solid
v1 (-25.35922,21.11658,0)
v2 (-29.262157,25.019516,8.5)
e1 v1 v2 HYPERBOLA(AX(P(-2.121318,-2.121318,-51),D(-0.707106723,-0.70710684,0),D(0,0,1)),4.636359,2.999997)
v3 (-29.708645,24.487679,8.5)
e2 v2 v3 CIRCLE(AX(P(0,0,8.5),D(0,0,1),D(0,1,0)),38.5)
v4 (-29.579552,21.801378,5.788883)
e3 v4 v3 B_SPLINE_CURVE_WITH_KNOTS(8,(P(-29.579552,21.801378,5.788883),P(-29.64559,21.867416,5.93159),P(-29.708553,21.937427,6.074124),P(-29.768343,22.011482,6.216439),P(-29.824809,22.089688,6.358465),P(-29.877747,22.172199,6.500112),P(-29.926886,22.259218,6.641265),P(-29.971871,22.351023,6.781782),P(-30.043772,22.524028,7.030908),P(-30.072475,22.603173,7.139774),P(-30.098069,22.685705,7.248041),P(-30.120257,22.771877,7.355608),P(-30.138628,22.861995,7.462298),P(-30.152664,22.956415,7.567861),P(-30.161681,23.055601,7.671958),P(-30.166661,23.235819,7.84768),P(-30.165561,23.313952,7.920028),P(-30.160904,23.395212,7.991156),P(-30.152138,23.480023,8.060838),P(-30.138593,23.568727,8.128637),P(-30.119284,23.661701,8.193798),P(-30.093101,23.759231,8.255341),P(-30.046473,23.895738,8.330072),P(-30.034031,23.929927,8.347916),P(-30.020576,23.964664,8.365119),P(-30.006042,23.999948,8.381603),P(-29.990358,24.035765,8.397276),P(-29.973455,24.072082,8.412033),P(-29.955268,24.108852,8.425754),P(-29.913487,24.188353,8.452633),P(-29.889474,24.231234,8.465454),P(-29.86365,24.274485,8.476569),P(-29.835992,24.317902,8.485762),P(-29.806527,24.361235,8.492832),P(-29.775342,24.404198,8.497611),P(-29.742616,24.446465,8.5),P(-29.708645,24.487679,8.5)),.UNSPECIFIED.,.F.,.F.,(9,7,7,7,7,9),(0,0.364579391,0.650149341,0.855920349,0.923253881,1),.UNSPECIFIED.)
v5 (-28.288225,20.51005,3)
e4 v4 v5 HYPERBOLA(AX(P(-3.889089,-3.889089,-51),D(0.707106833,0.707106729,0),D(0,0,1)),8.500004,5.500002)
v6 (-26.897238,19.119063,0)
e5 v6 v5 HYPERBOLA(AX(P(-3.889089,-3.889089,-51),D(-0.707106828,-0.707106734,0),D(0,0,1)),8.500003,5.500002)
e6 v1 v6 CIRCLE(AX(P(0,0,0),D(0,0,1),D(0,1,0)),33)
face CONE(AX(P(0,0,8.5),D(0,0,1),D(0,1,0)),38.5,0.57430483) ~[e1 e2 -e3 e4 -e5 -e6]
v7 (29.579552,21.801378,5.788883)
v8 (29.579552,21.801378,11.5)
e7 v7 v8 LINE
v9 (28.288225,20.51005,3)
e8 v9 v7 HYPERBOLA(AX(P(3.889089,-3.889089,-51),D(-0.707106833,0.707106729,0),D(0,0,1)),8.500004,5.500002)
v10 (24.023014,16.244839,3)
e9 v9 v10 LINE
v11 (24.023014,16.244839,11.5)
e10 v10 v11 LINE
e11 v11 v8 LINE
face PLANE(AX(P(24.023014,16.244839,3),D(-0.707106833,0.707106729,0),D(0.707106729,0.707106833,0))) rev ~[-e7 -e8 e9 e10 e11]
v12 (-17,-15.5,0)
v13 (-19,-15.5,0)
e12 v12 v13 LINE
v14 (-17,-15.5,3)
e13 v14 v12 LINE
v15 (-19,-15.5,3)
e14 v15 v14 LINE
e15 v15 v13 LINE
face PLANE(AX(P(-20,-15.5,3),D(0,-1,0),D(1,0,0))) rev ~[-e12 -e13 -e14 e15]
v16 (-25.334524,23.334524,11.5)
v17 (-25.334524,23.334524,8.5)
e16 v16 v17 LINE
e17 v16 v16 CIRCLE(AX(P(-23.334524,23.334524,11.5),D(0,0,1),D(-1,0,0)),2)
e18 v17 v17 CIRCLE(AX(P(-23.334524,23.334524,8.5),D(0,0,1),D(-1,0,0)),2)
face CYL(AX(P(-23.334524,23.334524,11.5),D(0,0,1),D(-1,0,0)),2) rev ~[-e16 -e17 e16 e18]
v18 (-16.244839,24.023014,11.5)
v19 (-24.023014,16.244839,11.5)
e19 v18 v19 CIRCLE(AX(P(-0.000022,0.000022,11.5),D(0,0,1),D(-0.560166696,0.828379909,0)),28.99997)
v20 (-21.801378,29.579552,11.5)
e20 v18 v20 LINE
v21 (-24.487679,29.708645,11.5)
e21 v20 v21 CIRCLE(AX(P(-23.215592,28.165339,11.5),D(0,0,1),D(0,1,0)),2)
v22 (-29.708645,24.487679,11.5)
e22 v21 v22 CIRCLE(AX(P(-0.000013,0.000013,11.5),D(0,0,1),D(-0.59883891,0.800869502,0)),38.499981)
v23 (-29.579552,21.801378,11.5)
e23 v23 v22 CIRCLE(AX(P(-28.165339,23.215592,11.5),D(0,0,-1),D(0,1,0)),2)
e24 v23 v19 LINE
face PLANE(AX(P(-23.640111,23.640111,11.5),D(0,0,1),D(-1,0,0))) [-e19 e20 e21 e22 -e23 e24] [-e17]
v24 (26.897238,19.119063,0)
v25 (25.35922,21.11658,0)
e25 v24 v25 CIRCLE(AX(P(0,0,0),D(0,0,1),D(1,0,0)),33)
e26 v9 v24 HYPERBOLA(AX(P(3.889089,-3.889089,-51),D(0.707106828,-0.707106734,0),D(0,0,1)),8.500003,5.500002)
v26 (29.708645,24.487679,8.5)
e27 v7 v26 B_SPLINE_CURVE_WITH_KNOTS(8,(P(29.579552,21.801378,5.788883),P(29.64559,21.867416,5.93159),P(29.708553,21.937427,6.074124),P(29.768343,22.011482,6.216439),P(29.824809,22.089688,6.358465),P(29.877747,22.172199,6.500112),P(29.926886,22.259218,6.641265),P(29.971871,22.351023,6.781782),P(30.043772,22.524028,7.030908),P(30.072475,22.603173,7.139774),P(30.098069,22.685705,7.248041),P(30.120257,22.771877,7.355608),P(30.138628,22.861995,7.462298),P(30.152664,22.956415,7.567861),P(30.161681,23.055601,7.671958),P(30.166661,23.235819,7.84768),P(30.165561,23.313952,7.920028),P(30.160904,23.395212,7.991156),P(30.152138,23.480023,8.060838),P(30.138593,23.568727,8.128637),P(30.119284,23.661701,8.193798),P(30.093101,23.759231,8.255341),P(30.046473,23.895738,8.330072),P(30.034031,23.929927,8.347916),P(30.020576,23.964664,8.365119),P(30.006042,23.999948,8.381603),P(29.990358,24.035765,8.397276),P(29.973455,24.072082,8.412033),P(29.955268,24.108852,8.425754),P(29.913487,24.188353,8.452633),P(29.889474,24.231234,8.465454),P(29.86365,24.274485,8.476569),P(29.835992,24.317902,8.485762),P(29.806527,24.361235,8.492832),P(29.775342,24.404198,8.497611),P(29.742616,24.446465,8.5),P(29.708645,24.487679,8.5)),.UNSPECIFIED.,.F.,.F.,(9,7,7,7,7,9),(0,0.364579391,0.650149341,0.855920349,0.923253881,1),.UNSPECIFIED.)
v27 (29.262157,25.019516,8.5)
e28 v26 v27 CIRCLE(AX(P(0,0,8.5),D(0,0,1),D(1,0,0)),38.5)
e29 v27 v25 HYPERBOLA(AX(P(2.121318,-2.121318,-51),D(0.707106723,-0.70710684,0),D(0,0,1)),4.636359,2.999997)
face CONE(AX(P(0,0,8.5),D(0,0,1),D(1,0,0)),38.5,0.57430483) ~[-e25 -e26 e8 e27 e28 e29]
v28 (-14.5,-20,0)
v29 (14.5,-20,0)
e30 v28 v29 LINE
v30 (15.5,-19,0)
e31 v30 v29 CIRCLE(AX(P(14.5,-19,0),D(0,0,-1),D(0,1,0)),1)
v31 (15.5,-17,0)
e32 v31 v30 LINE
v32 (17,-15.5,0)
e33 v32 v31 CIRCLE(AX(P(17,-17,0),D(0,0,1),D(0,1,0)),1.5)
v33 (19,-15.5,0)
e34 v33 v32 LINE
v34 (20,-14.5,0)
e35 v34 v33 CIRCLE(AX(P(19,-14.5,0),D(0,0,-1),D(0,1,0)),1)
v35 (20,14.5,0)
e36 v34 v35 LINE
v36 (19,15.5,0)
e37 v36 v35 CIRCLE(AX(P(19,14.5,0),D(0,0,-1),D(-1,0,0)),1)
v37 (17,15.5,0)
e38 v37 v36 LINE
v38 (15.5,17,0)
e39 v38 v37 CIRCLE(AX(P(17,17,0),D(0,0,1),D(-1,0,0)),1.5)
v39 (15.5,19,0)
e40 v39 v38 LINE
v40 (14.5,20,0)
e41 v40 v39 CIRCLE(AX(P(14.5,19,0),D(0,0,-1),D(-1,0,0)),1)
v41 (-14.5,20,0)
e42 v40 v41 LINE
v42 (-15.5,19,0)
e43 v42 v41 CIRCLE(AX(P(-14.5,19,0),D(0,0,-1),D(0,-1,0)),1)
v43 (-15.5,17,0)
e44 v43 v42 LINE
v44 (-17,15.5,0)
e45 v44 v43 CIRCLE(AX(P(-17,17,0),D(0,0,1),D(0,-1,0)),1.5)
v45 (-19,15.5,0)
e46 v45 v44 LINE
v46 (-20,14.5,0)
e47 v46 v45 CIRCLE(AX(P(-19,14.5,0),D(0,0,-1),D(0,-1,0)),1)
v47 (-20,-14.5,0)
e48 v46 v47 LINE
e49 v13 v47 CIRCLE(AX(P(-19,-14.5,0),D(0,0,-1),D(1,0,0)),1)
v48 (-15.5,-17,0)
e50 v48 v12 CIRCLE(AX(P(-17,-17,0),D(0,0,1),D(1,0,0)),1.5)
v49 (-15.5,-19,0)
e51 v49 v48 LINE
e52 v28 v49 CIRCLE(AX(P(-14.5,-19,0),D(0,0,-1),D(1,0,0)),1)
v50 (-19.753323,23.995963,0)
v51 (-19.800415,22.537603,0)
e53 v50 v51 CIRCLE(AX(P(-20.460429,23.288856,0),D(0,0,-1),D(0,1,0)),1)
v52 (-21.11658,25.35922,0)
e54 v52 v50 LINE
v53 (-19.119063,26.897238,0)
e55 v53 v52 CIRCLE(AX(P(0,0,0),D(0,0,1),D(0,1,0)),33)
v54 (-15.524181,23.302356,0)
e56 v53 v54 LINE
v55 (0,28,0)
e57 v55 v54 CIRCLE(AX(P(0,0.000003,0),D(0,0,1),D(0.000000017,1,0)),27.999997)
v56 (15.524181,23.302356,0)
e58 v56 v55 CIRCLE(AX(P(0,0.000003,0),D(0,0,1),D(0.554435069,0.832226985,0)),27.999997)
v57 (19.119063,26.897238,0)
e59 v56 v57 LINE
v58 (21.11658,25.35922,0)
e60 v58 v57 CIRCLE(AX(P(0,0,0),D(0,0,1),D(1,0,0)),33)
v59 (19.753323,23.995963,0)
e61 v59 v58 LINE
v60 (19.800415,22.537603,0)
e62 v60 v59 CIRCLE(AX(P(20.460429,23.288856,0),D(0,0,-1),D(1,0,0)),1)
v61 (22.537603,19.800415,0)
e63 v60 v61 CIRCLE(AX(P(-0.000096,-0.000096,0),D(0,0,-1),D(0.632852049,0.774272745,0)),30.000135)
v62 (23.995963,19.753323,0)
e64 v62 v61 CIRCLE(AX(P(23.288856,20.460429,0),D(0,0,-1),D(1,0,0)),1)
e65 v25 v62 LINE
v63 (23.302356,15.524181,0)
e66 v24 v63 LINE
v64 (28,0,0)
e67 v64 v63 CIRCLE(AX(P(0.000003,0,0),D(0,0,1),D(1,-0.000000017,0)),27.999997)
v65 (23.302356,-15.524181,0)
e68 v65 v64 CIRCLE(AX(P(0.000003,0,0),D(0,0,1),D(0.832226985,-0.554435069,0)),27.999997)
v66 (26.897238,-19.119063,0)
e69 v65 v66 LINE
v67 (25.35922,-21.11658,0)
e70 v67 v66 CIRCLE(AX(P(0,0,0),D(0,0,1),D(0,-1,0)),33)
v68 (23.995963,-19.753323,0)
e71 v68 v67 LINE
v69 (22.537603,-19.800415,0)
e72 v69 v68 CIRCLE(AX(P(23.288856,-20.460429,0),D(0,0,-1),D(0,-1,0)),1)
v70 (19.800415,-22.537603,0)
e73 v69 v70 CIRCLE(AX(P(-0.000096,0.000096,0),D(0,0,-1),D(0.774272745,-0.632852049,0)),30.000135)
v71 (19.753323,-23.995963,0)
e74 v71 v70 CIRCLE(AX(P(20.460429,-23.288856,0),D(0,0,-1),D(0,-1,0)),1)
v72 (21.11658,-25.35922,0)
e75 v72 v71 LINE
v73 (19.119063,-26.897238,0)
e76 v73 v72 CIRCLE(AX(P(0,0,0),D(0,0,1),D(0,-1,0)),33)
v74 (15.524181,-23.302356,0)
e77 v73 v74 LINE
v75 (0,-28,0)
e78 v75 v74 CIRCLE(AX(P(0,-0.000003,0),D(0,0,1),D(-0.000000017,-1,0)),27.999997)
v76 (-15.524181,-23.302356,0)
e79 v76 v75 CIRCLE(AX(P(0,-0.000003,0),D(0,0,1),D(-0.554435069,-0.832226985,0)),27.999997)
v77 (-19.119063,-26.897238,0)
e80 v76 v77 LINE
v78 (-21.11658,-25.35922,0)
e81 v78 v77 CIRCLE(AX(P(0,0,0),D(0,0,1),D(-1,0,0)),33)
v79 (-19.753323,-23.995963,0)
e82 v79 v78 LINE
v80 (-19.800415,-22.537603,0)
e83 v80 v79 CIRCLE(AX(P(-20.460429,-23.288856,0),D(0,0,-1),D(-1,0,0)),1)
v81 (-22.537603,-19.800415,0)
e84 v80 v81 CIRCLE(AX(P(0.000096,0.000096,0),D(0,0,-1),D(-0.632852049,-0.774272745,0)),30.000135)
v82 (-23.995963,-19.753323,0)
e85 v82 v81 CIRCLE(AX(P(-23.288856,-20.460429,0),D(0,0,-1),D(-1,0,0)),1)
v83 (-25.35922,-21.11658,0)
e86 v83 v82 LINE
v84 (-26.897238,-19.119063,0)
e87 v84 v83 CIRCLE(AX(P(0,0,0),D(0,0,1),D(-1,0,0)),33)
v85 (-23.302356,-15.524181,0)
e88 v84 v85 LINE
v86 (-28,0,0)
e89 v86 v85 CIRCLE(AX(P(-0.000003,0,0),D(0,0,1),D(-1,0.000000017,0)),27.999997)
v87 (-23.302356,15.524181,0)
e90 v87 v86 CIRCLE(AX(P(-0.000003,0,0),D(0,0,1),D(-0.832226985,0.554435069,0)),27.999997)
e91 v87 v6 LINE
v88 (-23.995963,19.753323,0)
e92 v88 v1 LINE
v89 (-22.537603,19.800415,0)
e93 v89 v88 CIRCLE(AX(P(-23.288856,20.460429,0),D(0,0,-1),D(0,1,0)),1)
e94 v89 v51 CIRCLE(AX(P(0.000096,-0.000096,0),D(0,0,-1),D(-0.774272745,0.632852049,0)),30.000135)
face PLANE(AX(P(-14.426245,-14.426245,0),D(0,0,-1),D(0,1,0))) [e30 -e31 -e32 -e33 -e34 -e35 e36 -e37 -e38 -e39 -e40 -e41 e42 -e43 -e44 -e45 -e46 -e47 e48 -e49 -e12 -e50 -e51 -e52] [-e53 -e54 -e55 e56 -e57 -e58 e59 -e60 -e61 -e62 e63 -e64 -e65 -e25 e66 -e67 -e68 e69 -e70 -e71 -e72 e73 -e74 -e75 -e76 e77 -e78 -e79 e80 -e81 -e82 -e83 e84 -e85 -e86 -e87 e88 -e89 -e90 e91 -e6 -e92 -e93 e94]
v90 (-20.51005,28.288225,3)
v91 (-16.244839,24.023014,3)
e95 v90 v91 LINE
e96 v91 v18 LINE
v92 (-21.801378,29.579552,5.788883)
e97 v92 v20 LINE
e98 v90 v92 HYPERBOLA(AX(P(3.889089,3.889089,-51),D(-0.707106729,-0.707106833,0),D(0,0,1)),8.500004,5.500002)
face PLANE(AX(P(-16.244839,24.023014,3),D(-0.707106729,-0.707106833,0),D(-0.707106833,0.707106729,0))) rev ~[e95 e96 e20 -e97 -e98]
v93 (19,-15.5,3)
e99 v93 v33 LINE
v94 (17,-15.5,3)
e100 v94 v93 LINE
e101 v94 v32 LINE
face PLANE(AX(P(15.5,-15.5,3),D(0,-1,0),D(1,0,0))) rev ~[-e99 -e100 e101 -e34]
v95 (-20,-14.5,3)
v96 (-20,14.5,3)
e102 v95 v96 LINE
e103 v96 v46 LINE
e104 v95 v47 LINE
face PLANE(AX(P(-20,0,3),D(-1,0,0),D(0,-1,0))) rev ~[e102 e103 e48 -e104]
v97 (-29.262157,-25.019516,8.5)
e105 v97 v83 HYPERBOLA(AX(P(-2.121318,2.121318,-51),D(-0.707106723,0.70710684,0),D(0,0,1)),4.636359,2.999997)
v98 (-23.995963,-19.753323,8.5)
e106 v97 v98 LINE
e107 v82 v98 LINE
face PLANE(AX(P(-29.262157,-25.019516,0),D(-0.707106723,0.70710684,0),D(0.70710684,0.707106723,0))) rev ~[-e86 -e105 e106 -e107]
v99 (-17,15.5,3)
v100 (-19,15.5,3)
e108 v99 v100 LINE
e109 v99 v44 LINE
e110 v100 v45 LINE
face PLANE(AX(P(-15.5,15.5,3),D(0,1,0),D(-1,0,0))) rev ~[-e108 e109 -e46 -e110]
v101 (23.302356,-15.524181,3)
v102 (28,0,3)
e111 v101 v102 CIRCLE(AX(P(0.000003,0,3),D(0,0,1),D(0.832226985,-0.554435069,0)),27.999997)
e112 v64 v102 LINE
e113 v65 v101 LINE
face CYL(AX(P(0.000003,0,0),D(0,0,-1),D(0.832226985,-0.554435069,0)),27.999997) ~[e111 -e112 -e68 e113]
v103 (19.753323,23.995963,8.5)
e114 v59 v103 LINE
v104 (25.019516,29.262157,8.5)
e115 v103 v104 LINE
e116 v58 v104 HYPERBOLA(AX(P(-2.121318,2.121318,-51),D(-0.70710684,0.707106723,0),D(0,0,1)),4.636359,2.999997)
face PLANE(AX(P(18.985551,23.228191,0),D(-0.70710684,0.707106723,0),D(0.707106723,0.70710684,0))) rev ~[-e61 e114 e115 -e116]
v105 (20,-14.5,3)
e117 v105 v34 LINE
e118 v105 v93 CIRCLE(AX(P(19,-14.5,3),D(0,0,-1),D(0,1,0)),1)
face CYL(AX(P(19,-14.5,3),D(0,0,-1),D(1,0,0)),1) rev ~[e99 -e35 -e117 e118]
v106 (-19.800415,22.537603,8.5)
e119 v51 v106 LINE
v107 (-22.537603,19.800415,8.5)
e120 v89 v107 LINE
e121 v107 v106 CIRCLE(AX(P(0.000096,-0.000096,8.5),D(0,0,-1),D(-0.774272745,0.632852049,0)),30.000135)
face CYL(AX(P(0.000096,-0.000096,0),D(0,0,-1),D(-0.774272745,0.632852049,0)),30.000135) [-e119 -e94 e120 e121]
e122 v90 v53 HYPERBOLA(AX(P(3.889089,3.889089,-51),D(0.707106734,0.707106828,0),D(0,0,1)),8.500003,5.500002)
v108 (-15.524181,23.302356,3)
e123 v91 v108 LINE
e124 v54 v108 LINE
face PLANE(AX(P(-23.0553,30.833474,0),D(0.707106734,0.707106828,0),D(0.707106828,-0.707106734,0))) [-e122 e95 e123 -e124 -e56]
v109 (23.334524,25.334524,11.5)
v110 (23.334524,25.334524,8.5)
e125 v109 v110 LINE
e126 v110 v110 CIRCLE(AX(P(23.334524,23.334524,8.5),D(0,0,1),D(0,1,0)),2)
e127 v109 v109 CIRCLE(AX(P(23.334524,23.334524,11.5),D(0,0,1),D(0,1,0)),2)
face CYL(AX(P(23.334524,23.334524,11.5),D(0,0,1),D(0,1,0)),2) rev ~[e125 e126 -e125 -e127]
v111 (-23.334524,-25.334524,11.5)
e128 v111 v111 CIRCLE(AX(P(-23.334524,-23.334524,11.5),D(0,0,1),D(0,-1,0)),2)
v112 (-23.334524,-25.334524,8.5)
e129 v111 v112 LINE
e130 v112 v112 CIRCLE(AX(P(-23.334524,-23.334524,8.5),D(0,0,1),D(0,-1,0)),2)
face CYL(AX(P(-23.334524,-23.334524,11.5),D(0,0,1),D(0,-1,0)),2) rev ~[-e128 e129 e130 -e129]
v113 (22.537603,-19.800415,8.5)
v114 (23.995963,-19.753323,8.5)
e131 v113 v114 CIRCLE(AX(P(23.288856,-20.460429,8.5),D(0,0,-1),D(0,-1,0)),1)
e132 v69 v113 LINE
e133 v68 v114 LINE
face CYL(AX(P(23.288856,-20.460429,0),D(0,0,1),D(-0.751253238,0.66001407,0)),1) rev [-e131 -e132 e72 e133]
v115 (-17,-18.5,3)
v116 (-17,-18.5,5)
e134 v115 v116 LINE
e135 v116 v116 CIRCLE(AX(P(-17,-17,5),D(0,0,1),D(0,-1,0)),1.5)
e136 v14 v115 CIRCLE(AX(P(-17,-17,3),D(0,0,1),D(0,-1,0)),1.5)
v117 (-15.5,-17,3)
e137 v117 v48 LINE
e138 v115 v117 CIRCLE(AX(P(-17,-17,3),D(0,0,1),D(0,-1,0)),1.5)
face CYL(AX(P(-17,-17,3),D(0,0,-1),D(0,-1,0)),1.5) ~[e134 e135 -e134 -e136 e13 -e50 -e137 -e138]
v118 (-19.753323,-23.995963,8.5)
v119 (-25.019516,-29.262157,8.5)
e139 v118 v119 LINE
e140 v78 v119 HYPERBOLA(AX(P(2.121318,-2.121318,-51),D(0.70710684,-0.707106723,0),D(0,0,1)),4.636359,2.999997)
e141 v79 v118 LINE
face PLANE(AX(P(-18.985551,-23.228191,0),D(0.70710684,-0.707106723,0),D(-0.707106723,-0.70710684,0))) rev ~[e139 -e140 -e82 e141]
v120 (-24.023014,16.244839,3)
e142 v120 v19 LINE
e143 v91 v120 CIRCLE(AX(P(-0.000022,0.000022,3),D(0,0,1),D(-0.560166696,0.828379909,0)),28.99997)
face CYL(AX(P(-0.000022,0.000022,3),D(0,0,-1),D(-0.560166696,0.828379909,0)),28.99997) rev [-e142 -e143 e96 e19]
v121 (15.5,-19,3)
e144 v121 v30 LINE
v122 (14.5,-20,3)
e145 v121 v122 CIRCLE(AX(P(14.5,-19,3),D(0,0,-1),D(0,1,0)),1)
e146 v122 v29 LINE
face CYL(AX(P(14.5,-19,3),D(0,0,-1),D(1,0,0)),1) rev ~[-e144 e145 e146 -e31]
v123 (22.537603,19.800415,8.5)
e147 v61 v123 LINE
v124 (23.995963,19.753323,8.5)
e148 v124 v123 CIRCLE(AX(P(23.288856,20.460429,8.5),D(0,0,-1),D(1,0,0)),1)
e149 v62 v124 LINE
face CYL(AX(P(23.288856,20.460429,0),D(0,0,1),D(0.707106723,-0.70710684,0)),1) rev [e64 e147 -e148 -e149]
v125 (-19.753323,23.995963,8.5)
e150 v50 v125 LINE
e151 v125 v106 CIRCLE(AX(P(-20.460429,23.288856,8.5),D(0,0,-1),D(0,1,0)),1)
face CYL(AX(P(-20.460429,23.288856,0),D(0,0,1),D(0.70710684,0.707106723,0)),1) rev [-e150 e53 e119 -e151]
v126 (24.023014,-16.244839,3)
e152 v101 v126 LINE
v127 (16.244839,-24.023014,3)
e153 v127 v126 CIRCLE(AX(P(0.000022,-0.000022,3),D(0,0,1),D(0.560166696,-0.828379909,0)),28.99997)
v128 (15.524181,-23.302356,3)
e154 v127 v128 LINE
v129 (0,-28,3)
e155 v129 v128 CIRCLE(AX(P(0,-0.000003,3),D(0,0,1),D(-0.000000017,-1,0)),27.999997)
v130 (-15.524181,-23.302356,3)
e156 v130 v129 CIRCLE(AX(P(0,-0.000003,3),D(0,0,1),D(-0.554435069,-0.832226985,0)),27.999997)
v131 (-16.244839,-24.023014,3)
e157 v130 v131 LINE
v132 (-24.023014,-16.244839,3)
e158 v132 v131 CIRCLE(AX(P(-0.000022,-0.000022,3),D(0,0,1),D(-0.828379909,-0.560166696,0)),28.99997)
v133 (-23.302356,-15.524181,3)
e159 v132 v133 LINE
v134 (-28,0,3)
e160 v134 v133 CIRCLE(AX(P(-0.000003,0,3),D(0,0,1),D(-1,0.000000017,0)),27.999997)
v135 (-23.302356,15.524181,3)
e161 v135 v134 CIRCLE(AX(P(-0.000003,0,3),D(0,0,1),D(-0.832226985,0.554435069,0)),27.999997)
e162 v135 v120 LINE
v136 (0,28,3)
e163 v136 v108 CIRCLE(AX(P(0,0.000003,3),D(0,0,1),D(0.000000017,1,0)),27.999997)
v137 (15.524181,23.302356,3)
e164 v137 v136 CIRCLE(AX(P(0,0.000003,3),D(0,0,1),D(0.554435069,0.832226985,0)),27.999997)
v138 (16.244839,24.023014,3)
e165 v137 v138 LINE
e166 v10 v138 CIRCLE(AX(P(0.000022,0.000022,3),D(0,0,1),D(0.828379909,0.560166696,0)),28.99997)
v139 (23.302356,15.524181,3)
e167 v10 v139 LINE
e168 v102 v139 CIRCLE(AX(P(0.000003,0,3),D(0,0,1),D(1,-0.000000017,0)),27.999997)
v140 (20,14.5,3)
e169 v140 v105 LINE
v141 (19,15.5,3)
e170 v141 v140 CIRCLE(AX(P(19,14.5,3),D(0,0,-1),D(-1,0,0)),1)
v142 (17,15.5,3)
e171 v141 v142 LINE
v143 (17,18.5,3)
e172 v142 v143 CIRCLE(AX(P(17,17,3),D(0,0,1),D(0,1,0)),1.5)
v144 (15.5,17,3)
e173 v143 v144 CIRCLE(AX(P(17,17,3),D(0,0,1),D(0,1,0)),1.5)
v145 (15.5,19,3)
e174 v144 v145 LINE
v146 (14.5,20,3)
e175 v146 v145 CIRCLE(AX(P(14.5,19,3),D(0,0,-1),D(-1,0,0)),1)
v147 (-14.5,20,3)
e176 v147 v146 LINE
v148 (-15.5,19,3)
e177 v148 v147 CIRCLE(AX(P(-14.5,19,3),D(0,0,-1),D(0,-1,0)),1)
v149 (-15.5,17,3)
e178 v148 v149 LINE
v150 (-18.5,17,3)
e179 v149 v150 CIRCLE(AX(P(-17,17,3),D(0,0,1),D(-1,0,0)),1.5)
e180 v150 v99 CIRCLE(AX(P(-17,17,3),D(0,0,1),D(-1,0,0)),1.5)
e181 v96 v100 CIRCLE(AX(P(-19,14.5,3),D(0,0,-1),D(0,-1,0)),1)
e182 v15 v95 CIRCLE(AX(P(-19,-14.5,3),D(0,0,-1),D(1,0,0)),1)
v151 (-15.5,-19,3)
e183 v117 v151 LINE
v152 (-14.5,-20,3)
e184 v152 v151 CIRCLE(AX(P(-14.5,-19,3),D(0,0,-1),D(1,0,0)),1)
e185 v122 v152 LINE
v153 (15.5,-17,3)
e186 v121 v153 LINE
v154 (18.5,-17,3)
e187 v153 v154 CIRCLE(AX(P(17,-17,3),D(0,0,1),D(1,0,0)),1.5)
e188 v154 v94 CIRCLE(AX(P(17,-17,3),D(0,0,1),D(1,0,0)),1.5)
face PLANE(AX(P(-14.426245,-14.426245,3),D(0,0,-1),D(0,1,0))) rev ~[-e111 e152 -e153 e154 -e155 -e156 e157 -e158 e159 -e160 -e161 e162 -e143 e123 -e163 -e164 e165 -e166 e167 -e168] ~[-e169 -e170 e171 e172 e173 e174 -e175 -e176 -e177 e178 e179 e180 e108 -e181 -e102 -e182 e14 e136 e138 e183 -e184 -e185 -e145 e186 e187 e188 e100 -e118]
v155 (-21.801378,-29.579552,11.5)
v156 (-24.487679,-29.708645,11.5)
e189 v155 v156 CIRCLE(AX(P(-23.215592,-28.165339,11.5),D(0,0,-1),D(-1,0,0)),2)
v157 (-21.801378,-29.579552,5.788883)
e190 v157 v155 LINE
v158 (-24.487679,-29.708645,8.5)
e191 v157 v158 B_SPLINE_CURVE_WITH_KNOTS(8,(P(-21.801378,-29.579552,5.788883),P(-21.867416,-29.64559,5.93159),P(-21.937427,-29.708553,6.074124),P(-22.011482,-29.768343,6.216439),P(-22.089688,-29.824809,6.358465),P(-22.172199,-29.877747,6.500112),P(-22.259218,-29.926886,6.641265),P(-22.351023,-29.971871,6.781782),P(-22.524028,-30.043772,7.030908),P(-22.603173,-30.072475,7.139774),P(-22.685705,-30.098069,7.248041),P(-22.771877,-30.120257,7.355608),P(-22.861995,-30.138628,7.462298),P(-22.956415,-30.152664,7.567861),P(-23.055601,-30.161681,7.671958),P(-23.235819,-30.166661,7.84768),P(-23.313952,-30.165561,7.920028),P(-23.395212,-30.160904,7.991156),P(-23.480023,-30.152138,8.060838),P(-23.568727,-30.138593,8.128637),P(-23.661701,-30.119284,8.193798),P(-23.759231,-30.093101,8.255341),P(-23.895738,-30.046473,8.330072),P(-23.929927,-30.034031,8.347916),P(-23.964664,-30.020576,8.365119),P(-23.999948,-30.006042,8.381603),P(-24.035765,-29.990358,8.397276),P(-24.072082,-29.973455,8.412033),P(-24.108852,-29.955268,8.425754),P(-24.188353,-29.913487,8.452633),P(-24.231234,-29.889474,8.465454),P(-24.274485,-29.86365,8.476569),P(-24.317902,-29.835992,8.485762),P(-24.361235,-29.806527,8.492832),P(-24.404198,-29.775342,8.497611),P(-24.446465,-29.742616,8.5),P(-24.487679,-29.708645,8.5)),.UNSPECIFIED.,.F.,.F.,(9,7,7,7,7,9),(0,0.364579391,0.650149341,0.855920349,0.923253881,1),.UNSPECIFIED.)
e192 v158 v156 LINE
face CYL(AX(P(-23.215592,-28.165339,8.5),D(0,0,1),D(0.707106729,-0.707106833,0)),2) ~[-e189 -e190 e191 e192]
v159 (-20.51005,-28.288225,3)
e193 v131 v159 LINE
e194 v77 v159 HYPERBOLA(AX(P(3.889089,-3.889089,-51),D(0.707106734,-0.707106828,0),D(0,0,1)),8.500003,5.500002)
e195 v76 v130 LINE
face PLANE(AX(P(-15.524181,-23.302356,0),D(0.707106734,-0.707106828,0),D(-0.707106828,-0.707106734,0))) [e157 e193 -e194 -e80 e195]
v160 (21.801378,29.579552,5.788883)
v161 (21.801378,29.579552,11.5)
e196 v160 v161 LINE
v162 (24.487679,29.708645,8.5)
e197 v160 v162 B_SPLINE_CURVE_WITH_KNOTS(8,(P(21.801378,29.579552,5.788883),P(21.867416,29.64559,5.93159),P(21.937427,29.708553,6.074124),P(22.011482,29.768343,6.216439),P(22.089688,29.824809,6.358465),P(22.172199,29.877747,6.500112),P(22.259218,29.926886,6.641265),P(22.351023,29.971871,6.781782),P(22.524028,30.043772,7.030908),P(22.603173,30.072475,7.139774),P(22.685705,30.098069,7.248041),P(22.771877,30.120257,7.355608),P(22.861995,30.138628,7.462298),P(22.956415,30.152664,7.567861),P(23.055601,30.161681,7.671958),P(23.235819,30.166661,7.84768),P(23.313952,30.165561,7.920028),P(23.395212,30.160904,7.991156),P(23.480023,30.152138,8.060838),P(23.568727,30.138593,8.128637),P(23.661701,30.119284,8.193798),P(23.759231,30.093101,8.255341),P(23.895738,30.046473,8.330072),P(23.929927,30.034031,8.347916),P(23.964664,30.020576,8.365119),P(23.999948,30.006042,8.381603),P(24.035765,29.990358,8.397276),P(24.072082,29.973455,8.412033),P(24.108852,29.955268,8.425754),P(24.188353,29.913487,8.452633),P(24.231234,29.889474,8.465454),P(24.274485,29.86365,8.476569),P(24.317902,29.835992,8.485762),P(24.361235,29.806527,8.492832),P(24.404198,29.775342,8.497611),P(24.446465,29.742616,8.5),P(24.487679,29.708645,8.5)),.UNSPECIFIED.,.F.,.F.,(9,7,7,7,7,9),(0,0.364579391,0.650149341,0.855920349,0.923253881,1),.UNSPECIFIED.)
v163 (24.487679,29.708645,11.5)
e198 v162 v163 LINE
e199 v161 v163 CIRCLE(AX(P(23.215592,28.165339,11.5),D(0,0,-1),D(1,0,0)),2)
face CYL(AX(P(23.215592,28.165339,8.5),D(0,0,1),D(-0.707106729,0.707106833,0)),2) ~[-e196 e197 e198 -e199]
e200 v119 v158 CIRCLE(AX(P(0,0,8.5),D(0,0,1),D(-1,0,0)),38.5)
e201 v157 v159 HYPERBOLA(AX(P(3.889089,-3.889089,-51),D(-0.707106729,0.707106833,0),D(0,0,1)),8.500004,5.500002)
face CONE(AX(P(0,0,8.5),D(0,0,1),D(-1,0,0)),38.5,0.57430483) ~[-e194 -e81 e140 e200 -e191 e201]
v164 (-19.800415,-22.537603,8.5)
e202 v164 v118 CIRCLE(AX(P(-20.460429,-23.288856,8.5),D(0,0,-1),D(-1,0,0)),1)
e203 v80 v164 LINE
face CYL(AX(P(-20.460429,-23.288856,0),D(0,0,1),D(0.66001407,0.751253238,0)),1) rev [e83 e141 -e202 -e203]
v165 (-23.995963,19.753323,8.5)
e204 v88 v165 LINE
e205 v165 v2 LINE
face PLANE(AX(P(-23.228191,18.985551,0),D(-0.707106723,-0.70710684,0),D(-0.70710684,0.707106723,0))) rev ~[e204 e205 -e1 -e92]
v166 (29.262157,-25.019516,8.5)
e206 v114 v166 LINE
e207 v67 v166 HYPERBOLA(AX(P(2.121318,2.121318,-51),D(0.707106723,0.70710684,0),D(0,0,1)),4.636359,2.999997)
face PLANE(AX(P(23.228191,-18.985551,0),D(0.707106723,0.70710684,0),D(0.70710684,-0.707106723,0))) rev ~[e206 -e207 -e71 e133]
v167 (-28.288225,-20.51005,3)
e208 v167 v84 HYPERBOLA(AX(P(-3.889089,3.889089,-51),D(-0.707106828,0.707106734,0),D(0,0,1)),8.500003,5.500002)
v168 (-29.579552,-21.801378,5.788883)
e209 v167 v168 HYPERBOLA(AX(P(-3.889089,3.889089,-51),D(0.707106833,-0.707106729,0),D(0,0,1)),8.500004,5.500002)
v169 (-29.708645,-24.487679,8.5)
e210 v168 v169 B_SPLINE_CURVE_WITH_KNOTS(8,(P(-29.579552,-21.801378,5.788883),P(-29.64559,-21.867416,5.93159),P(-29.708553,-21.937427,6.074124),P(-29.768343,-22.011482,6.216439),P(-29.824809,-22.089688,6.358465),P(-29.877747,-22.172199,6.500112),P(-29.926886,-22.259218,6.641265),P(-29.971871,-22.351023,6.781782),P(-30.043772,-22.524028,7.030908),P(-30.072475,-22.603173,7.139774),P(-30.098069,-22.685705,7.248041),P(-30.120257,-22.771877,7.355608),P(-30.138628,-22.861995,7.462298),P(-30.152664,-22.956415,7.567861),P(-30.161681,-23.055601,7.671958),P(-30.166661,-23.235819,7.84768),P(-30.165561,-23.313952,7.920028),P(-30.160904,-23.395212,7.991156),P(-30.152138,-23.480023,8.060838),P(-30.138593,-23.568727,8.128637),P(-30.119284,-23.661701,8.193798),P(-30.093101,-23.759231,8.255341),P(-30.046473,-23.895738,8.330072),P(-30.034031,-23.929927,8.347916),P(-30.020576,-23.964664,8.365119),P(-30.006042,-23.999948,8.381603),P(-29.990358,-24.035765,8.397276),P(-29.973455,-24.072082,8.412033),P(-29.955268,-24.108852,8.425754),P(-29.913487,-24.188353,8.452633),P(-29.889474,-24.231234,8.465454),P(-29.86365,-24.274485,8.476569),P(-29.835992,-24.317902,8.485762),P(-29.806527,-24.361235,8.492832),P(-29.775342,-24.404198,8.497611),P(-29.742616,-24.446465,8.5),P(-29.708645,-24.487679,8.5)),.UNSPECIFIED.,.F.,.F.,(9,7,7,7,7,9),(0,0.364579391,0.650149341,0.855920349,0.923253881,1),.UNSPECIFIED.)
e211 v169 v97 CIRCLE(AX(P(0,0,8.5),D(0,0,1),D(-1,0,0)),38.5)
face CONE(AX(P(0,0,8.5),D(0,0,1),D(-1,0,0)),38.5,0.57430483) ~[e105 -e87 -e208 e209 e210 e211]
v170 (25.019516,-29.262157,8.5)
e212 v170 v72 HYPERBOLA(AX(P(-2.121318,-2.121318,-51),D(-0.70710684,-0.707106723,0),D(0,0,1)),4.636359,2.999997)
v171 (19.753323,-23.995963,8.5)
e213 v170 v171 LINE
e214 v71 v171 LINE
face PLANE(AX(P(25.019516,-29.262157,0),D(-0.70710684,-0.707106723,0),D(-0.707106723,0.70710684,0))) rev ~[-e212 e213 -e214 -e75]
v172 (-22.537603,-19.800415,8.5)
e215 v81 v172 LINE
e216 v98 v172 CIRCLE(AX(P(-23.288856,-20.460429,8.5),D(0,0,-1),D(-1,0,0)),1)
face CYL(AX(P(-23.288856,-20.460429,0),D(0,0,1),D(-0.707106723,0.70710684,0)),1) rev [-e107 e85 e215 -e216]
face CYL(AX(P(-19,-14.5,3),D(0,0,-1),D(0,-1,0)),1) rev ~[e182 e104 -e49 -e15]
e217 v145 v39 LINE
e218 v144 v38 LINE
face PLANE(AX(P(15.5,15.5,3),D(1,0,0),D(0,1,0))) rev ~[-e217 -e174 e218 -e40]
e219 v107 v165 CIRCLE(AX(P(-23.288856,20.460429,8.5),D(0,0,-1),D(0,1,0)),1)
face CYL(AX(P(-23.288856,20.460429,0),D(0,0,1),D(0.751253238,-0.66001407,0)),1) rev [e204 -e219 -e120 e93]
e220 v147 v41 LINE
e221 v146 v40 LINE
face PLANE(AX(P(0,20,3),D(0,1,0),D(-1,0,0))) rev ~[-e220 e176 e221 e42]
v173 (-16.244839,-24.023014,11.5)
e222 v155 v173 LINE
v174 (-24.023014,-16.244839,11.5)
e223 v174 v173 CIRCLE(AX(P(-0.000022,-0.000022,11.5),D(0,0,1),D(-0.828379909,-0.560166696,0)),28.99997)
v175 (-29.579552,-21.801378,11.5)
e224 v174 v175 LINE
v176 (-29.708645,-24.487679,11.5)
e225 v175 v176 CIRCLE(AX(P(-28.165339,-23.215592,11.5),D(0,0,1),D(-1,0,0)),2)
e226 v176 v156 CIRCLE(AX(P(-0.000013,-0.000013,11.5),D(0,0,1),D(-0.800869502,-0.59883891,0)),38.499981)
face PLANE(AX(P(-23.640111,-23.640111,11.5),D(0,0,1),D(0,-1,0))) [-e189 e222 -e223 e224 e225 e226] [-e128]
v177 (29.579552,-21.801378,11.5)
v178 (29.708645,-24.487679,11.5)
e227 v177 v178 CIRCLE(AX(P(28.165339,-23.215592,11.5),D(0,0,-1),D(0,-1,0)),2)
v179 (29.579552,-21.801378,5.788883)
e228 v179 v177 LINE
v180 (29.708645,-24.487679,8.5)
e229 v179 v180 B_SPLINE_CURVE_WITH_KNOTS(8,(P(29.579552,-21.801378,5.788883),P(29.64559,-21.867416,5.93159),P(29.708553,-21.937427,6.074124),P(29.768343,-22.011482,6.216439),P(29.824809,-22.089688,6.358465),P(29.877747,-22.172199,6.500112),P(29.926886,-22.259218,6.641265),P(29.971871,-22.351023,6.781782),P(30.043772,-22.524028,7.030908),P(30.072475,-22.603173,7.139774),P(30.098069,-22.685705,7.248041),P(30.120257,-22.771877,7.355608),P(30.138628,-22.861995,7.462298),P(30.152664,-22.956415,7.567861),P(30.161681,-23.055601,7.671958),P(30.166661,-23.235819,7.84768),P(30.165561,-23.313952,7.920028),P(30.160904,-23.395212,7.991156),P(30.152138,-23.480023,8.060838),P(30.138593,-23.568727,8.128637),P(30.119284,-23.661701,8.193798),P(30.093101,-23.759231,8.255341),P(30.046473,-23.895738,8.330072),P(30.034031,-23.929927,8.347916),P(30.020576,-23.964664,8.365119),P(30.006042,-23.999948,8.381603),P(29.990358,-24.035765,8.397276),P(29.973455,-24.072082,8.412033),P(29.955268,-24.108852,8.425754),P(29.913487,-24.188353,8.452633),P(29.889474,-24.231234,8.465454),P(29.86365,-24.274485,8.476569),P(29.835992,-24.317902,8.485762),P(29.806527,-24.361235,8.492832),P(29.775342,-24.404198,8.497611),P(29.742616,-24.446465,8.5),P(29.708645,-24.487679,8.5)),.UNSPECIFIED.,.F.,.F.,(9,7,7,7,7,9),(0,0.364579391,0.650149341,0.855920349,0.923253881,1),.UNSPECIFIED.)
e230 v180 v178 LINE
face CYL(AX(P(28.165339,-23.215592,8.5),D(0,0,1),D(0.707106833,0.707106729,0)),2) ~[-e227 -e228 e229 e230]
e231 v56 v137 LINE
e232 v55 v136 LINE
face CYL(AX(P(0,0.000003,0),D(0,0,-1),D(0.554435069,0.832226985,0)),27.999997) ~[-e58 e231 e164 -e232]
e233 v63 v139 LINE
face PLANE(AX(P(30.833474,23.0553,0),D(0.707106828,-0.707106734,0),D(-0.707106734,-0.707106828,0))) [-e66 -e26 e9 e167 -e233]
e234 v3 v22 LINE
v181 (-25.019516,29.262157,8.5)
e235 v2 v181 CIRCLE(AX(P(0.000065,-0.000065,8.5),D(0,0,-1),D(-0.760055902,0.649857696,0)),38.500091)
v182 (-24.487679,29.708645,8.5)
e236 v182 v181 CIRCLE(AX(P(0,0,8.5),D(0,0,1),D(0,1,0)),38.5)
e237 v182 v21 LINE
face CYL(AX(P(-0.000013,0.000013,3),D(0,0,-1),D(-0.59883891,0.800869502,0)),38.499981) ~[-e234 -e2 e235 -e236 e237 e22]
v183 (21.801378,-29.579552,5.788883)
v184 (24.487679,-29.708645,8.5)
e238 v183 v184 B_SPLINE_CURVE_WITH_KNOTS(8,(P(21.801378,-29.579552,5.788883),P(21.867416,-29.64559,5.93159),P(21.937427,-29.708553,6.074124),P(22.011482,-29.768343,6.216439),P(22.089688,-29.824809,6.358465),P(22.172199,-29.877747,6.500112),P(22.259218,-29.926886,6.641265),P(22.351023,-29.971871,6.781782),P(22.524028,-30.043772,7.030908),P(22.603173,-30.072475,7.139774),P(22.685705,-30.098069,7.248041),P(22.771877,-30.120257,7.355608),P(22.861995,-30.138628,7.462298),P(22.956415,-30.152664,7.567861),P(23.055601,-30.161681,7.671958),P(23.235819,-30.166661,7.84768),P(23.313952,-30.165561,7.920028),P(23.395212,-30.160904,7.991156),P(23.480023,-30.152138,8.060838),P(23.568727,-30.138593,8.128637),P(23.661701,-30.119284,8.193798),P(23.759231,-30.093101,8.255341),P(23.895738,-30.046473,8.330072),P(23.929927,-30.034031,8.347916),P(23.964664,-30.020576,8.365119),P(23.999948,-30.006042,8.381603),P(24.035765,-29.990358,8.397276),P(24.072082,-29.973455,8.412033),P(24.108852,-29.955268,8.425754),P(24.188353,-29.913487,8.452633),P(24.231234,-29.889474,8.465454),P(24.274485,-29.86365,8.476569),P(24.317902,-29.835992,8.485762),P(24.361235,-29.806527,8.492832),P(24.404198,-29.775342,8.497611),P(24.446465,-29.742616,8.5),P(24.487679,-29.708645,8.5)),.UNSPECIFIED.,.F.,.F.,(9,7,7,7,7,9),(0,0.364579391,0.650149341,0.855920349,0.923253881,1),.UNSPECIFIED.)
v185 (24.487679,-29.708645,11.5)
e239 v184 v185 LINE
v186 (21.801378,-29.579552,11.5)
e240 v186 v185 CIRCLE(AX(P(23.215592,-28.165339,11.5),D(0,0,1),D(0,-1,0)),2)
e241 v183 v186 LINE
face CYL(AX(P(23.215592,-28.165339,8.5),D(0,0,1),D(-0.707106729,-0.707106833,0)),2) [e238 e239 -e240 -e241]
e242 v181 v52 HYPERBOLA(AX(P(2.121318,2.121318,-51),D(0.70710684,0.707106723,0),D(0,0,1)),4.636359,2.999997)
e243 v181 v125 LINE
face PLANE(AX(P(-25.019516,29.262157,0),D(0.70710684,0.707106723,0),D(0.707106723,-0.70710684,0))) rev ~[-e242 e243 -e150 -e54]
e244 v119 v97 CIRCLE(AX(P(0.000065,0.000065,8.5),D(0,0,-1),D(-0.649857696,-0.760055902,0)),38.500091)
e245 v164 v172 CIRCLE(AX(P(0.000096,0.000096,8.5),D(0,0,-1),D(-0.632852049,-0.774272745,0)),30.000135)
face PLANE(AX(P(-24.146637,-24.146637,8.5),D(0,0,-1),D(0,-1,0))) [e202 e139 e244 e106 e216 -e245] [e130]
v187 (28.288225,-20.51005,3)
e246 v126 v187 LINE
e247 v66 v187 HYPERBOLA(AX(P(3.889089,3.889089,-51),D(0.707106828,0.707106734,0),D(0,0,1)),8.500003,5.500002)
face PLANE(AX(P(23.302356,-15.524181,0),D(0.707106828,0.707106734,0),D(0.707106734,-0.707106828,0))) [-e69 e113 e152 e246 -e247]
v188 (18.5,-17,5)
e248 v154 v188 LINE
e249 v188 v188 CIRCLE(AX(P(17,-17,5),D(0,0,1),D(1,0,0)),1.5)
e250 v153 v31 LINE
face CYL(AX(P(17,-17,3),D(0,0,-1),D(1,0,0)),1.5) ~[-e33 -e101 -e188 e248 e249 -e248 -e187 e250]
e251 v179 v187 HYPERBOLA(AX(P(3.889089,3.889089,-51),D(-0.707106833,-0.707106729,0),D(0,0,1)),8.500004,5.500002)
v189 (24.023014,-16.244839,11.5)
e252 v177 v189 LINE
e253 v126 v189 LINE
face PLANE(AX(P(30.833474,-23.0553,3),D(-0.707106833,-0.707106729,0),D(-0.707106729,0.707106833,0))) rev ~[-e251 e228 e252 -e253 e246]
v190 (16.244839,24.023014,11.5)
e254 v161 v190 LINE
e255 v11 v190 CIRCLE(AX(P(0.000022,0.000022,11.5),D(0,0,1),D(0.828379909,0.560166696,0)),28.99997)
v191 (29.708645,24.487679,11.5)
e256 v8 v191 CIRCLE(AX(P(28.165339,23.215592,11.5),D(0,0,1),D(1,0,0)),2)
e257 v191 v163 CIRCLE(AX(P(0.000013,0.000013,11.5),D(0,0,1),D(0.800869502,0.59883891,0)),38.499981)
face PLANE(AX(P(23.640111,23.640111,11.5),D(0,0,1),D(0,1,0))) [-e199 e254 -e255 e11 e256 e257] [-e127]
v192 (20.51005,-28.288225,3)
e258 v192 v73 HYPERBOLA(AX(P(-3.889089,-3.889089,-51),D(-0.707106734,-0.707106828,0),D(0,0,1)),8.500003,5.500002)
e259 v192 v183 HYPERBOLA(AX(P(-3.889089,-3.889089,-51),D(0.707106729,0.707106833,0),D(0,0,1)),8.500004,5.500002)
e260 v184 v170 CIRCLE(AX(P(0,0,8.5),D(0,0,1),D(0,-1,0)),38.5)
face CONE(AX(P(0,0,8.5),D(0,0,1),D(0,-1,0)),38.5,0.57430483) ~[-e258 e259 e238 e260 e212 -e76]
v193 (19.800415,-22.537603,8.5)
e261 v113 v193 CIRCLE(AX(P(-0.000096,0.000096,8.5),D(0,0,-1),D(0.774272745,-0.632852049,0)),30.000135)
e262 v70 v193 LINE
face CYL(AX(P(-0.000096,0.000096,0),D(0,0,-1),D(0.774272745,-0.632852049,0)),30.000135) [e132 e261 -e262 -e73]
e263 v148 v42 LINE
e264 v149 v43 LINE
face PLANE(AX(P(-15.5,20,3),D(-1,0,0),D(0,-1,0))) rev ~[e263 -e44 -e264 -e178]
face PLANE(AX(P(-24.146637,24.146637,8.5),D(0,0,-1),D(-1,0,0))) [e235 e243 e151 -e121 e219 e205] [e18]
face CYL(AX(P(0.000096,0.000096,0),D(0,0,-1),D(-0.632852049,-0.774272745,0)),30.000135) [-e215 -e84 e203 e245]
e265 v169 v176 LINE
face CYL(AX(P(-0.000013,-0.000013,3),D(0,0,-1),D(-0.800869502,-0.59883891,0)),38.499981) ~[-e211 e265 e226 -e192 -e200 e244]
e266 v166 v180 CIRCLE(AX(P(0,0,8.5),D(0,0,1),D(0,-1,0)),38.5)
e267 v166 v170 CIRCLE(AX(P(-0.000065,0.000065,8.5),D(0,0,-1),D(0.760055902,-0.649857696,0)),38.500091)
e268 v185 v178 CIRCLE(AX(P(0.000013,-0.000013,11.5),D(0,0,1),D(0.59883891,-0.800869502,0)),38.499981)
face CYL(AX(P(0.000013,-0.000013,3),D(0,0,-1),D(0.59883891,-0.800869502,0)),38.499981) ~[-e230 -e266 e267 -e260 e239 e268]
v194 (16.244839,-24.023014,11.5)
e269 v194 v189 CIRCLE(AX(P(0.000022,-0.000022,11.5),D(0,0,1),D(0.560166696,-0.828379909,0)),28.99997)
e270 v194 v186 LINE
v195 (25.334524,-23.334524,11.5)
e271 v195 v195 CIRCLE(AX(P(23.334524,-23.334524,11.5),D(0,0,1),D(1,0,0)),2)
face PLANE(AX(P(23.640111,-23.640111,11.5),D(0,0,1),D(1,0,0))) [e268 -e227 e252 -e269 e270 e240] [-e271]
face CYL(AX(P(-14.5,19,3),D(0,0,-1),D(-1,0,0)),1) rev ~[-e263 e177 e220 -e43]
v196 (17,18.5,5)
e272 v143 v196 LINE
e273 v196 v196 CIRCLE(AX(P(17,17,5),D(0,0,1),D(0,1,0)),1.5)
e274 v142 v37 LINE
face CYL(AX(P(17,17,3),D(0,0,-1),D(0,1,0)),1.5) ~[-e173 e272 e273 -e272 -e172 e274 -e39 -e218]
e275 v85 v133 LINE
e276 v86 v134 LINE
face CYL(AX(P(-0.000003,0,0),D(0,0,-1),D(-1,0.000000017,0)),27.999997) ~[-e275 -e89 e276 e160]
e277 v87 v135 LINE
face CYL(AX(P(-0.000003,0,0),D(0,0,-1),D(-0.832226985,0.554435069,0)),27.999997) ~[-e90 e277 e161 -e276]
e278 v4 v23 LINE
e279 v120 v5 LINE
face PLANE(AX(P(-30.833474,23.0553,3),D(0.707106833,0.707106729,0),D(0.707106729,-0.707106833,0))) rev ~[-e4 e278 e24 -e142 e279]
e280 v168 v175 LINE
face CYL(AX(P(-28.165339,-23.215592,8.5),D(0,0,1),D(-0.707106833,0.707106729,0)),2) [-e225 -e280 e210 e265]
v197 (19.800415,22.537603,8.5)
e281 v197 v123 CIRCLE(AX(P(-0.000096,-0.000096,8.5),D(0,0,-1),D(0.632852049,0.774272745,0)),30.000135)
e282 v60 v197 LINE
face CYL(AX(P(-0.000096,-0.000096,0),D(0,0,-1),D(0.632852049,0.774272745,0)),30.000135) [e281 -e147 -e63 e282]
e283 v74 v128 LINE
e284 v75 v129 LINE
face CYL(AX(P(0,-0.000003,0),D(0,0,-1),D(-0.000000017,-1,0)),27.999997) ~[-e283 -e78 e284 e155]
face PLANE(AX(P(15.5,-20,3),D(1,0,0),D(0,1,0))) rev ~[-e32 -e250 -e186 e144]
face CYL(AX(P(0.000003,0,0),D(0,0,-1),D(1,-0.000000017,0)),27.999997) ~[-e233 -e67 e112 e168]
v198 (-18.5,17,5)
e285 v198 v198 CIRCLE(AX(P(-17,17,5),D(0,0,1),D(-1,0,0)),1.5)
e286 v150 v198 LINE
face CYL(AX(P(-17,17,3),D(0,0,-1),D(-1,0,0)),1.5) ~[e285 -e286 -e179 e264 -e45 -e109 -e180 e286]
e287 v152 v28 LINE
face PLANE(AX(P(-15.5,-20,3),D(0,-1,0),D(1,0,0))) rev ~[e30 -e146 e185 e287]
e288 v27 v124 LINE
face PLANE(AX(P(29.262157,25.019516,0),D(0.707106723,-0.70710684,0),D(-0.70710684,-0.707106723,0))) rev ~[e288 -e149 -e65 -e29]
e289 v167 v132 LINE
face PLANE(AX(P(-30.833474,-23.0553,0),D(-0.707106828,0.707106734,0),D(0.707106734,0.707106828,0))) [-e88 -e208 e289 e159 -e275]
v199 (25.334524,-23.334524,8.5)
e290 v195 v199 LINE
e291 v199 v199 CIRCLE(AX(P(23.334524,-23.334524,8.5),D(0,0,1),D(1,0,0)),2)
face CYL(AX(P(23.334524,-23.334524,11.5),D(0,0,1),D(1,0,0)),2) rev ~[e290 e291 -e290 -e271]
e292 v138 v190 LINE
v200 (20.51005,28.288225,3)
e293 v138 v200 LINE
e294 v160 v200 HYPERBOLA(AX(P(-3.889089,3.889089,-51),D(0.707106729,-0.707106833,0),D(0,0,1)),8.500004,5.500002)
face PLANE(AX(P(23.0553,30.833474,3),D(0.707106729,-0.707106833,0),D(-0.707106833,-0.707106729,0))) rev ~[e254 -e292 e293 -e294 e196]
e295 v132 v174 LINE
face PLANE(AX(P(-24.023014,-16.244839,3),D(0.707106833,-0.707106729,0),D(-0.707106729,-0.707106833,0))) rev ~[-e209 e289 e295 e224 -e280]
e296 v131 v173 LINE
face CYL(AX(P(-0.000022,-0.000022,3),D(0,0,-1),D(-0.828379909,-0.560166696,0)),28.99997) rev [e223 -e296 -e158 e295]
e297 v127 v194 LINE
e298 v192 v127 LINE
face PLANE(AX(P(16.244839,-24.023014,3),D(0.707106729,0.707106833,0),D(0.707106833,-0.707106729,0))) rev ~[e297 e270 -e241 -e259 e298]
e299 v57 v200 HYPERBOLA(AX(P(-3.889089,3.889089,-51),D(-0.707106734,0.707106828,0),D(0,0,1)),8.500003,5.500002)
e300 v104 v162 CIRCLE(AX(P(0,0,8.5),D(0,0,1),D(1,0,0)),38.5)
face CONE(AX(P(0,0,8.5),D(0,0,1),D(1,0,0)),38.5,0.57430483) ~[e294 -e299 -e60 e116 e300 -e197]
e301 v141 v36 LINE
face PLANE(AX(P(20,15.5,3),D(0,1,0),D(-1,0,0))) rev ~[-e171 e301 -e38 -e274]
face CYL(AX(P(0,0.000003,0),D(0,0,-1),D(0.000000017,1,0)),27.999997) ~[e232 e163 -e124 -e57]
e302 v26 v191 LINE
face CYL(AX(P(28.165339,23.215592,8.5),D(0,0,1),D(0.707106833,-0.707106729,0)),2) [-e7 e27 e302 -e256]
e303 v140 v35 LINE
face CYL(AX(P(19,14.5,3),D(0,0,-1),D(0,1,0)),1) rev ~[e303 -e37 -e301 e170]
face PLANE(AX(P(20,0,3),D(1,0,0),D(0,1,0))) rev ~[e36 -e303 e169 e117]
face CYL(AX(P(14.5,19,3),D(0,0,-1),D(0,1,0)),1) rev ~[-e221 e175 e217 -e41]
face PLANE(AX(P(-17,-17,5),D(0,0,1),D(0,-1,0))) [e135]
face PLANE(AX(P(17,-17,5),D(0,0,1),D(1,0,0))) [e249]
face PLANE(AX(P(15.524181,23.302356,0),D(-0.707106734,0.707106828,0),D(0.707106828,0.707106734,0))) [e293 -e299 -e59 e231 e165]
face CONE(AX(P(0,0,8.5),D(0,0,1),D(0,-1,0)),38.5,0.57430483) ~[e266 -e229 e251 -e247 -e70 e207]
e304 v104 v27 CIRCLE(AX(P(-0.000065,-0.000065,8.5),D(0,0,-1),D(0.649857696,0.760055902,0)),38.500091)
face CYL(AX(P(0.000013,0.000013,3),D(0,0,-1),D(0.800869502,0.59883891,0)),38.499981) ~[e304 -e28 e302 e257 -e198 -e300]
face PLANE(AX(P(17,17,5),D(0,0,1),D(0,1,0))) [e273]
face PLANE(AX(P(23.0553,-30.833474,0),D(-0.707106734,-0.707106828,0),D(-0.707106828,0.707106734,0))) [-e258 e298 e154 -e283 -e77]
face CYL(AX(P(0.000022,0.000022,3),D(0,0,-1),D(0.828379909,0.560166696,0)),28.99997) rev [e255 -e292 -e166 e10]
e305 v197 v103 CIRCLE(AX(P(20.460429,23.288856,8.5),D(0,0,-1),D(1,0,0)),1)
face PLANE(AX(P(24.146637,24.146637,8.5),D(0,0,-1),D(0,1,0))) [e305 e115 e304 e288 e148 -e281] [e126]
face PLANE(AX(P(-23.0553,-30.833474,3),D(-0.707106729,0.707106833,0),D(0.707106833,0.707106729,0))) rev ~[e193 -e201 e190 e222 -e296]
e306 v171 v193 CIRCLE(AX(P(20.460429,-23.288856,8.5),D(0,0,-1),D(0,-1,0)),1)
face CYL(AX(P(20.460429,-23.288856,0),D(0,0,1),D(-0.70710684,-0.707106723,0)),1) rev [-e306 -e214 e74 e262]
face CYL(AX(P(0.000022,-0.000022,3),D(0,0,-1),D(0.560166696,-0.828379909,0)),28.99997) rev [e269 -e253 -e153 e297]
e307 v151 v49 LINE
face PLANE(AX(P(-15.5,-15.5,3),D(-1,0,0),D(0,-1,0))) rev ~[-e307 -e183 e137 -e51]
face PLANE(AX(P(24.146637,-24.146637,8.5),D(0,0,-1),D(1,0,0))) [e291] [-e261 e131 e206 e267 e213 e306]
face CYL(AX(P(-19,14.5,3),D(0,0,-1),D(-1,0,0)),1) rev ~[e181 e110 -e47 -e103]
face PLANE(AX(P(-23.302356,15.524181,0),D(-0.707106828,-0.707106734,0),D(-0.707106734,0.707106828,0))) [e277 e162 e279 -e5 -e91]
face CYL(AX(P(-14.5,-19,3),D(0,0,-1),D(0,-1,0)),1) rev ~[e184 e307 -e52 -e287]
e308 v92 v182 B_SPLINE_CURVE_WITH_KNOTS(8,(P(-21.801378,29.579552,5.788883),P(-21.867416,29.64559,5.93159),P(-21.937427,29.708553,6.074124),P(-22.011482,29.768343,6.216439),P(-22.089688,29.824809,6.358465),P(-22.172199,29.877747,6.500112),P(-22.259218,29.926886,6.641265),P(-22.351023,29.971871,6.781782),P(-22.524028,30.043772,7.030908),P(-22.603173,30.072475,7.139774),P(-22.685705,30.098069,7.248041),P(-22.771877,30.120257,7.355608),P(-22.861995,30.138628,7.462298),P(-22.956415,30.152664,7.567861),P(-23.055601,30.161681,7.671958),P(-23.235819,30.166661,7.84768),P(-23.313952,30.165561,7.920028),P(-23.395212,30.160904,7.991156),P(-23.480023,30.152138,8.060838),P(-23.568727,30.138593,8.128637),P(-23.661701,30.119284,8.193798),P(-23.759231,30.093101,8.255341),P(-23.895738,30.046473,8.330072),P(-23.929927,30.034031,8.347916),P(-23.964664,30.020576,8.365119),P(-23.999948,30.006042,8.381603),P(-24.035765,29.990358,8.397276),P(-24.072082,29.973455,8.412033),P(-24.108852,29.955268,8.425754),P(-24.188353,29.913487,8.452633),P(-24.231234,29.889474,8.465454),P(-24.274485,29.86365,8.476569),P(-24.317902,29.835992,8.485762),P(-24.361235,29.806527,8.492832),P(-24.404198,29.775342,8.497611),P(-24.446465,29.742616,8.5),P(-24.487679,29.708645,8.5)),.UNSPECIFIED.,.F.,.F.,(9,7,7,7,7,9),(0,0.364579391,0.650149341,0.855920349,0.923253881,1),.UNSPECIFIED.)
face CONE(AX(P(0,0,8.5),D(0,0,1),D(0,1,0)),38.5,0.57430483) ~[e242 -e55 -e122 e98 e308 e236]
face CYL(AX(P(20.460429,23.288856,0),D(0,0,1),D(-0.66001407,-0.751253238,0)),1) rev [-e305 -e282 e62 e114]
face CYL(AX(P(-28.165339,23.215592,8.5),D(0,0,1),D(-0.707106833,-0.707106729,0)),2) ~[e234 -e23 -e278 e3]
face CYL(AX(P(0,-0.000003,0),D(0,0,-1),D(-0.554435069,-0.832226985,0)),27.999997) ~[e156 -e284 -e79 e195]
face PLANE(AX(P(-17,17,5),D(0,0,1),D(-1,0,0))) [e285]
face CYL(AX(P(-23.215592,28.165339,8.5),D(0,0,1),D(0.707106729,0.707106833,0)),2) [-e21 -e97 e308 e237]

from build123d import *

# Parameters (mm, degrees)
PAD_DEPTH          = 3
POCKET_DEPTH       = 3.001
FILLET_R           = 1.5
PAD001_DEPTH       = 8.5
SKETCH004_R        = 2
POCKET001_DEPTH    = 11.501
POCKET002_DEPTH    = 8.5
SKETCH007_R        = 1.5
PAD002_DEPTH       = 2
FILLET001_R        = 1
FILLET002_R        = 2
POLARPATTERN_COUNT = 4


with BuildPart() as part:
    # Sketch → Pad (new body)
    with BuildSketch(Plane.XY):
        with BuildLine():
            Line((0, 0), (28, 0))
            ThreePointArc((23.302356, -15.524181), (26.799869, -8.109687), (28, 0))
            Line((23.302356, -15.524181), (30.833474, -23.0553))
            ThreePointArc((23.0553, -30.833474), (27.223611, -27.223611), (30.833474, -23.0553))
            Line((23.0553, -30.833474), (15.524181, -23.302356))
            ThreePointArc((0, -28), (8.109687, -26.799869), (15.524181, -23.302356))
            Line((0, -28), (0, 0))
        make_face()
    extrude(amount=PAD_DEPTH)

    # Sketch002 (on Face9 of Pad) → Pocket (cut, through all)
    with BuildSketch(Plane.XY.offset(3)):
        Polygon((0, 0), (0, -20), (15.5, -20), (15.5, -15.5), (20, -15.5), (20, 0), align=None)
    extrude(amount=-POCKET_DEPTH, mode=Mode.SUBTRACT)

    # Fillet
    fillet_edges = [part.edges().sort_by_distance(p)[0] for p in [
        (15.5, -15.5, 1.5),
    ]]
    fillet(fillet_edges, radius=FILLET_R)

    # Sketch003 (on Face14 of Fillet) → Pad001 (join)
    with BuildSketch(Plane.XY.offset(3)):
        with BuildLine():
            Line((16.244839, -24.023014), (23.0553, -30.833474))
            ThreePointArc((23.0553, -30.833474), (27.223611, -27.223611), (30.833474, -23.0553))
            Line((30.833474, -23.0553), (24.023014, -16.244839))
            ThreePointArc((16.244839, -24.023014), (20.506097, -20.506097), (24.023014, -16.244839))
        make_face()
    extrude(amount=PAD001_DEPTH)

    # Sketch004 (on Face13 of Pad001) → Pocket001 (cut, through all)
    with BuildSketch(Plane.XY.offset(11.5)):
        with Locations((23.334524, -23.334524)):
            Circle(SKETCH004_R)
    extrude(amount=-POCKET001_DEPTH, mode=Mode.SUBTRACT)

    # Sketch005 (on Face1 of Pocket001) → Pocket002 (cut)
    with BuildSketch(Plane(origin=(0, 0, 0), x_dir=(1, 0, 0), z_dir=(0, 0, -1))):
        with BuildLine():
            ThreePointArc((29.262157, 25.019516), (27.223611, 27.223611), (25.019516, 29.262157))
            Line((25.019516, 29.262157), (18.985551, 23.228191))
            ThreePointArc((23.228191, 18.985551), (21.213203, 21.213203), (18.985551, 23.228191))
            Line((23.228191, 18.985551), (29.262157, 25.019516))
        make_face()
    extrude(amount=-POCKET002_DEPTH, mode=Mode.SUBTRACT)

    # Sketch006 → Groove (revolve, cut)
    with BuildSketch(Plane.YZ):
        Polygon((-38.5, 0), (-38.5, 8.5), (-33, 0), align=None)
    revolve(axis=Axis((0, 0, 0), (0, 0, 1)), mode=Mode.SUBTRACT)

    # Sketch007 (on Face18 of Groove) → Pad002 (join)
    with BuildSketch(Plane.XY.offset(3)):
        with Locations((17, -17)):
            Circle(SKETCH007_R)
    extrude(amount=PAD002_DEPTH)

    # Fillet001
    fillet001_edges = [part.edges().sort_by_distance(p)[0] for p in [
        (20, -15.5, 1.5),
        (15.5, -20, 1.5),
        (18.985551, -23.228191, 4.25),
        (23.228191, -18.985551, 4.25),
    ]]
    fillet(fillet001_edges, radius=FILLET001_R)

    # Fillet002
    fillet002_edges = [part.edges().sort_by_distance(p)[0] for p in [
        (30.833474, -23.0553, 10),
        (23.0553, -30.833474, 10),
    ]]
    fillet(fillet002_edges, radius=FILLET002_R)

    # PolarPattern: part ×4 about axis
    polarpattern_axis = Axis((0, 0, 0), (0, 0, 1))


with BuildPart() as part_1:
    add(part.part)
    for i in range(1, POLARPATTERN_COUNT):
        add(part.part.rotate(polarpattern_axis, i * 360 / POLARPATTERN_COUNT))


solid = part_1.part
